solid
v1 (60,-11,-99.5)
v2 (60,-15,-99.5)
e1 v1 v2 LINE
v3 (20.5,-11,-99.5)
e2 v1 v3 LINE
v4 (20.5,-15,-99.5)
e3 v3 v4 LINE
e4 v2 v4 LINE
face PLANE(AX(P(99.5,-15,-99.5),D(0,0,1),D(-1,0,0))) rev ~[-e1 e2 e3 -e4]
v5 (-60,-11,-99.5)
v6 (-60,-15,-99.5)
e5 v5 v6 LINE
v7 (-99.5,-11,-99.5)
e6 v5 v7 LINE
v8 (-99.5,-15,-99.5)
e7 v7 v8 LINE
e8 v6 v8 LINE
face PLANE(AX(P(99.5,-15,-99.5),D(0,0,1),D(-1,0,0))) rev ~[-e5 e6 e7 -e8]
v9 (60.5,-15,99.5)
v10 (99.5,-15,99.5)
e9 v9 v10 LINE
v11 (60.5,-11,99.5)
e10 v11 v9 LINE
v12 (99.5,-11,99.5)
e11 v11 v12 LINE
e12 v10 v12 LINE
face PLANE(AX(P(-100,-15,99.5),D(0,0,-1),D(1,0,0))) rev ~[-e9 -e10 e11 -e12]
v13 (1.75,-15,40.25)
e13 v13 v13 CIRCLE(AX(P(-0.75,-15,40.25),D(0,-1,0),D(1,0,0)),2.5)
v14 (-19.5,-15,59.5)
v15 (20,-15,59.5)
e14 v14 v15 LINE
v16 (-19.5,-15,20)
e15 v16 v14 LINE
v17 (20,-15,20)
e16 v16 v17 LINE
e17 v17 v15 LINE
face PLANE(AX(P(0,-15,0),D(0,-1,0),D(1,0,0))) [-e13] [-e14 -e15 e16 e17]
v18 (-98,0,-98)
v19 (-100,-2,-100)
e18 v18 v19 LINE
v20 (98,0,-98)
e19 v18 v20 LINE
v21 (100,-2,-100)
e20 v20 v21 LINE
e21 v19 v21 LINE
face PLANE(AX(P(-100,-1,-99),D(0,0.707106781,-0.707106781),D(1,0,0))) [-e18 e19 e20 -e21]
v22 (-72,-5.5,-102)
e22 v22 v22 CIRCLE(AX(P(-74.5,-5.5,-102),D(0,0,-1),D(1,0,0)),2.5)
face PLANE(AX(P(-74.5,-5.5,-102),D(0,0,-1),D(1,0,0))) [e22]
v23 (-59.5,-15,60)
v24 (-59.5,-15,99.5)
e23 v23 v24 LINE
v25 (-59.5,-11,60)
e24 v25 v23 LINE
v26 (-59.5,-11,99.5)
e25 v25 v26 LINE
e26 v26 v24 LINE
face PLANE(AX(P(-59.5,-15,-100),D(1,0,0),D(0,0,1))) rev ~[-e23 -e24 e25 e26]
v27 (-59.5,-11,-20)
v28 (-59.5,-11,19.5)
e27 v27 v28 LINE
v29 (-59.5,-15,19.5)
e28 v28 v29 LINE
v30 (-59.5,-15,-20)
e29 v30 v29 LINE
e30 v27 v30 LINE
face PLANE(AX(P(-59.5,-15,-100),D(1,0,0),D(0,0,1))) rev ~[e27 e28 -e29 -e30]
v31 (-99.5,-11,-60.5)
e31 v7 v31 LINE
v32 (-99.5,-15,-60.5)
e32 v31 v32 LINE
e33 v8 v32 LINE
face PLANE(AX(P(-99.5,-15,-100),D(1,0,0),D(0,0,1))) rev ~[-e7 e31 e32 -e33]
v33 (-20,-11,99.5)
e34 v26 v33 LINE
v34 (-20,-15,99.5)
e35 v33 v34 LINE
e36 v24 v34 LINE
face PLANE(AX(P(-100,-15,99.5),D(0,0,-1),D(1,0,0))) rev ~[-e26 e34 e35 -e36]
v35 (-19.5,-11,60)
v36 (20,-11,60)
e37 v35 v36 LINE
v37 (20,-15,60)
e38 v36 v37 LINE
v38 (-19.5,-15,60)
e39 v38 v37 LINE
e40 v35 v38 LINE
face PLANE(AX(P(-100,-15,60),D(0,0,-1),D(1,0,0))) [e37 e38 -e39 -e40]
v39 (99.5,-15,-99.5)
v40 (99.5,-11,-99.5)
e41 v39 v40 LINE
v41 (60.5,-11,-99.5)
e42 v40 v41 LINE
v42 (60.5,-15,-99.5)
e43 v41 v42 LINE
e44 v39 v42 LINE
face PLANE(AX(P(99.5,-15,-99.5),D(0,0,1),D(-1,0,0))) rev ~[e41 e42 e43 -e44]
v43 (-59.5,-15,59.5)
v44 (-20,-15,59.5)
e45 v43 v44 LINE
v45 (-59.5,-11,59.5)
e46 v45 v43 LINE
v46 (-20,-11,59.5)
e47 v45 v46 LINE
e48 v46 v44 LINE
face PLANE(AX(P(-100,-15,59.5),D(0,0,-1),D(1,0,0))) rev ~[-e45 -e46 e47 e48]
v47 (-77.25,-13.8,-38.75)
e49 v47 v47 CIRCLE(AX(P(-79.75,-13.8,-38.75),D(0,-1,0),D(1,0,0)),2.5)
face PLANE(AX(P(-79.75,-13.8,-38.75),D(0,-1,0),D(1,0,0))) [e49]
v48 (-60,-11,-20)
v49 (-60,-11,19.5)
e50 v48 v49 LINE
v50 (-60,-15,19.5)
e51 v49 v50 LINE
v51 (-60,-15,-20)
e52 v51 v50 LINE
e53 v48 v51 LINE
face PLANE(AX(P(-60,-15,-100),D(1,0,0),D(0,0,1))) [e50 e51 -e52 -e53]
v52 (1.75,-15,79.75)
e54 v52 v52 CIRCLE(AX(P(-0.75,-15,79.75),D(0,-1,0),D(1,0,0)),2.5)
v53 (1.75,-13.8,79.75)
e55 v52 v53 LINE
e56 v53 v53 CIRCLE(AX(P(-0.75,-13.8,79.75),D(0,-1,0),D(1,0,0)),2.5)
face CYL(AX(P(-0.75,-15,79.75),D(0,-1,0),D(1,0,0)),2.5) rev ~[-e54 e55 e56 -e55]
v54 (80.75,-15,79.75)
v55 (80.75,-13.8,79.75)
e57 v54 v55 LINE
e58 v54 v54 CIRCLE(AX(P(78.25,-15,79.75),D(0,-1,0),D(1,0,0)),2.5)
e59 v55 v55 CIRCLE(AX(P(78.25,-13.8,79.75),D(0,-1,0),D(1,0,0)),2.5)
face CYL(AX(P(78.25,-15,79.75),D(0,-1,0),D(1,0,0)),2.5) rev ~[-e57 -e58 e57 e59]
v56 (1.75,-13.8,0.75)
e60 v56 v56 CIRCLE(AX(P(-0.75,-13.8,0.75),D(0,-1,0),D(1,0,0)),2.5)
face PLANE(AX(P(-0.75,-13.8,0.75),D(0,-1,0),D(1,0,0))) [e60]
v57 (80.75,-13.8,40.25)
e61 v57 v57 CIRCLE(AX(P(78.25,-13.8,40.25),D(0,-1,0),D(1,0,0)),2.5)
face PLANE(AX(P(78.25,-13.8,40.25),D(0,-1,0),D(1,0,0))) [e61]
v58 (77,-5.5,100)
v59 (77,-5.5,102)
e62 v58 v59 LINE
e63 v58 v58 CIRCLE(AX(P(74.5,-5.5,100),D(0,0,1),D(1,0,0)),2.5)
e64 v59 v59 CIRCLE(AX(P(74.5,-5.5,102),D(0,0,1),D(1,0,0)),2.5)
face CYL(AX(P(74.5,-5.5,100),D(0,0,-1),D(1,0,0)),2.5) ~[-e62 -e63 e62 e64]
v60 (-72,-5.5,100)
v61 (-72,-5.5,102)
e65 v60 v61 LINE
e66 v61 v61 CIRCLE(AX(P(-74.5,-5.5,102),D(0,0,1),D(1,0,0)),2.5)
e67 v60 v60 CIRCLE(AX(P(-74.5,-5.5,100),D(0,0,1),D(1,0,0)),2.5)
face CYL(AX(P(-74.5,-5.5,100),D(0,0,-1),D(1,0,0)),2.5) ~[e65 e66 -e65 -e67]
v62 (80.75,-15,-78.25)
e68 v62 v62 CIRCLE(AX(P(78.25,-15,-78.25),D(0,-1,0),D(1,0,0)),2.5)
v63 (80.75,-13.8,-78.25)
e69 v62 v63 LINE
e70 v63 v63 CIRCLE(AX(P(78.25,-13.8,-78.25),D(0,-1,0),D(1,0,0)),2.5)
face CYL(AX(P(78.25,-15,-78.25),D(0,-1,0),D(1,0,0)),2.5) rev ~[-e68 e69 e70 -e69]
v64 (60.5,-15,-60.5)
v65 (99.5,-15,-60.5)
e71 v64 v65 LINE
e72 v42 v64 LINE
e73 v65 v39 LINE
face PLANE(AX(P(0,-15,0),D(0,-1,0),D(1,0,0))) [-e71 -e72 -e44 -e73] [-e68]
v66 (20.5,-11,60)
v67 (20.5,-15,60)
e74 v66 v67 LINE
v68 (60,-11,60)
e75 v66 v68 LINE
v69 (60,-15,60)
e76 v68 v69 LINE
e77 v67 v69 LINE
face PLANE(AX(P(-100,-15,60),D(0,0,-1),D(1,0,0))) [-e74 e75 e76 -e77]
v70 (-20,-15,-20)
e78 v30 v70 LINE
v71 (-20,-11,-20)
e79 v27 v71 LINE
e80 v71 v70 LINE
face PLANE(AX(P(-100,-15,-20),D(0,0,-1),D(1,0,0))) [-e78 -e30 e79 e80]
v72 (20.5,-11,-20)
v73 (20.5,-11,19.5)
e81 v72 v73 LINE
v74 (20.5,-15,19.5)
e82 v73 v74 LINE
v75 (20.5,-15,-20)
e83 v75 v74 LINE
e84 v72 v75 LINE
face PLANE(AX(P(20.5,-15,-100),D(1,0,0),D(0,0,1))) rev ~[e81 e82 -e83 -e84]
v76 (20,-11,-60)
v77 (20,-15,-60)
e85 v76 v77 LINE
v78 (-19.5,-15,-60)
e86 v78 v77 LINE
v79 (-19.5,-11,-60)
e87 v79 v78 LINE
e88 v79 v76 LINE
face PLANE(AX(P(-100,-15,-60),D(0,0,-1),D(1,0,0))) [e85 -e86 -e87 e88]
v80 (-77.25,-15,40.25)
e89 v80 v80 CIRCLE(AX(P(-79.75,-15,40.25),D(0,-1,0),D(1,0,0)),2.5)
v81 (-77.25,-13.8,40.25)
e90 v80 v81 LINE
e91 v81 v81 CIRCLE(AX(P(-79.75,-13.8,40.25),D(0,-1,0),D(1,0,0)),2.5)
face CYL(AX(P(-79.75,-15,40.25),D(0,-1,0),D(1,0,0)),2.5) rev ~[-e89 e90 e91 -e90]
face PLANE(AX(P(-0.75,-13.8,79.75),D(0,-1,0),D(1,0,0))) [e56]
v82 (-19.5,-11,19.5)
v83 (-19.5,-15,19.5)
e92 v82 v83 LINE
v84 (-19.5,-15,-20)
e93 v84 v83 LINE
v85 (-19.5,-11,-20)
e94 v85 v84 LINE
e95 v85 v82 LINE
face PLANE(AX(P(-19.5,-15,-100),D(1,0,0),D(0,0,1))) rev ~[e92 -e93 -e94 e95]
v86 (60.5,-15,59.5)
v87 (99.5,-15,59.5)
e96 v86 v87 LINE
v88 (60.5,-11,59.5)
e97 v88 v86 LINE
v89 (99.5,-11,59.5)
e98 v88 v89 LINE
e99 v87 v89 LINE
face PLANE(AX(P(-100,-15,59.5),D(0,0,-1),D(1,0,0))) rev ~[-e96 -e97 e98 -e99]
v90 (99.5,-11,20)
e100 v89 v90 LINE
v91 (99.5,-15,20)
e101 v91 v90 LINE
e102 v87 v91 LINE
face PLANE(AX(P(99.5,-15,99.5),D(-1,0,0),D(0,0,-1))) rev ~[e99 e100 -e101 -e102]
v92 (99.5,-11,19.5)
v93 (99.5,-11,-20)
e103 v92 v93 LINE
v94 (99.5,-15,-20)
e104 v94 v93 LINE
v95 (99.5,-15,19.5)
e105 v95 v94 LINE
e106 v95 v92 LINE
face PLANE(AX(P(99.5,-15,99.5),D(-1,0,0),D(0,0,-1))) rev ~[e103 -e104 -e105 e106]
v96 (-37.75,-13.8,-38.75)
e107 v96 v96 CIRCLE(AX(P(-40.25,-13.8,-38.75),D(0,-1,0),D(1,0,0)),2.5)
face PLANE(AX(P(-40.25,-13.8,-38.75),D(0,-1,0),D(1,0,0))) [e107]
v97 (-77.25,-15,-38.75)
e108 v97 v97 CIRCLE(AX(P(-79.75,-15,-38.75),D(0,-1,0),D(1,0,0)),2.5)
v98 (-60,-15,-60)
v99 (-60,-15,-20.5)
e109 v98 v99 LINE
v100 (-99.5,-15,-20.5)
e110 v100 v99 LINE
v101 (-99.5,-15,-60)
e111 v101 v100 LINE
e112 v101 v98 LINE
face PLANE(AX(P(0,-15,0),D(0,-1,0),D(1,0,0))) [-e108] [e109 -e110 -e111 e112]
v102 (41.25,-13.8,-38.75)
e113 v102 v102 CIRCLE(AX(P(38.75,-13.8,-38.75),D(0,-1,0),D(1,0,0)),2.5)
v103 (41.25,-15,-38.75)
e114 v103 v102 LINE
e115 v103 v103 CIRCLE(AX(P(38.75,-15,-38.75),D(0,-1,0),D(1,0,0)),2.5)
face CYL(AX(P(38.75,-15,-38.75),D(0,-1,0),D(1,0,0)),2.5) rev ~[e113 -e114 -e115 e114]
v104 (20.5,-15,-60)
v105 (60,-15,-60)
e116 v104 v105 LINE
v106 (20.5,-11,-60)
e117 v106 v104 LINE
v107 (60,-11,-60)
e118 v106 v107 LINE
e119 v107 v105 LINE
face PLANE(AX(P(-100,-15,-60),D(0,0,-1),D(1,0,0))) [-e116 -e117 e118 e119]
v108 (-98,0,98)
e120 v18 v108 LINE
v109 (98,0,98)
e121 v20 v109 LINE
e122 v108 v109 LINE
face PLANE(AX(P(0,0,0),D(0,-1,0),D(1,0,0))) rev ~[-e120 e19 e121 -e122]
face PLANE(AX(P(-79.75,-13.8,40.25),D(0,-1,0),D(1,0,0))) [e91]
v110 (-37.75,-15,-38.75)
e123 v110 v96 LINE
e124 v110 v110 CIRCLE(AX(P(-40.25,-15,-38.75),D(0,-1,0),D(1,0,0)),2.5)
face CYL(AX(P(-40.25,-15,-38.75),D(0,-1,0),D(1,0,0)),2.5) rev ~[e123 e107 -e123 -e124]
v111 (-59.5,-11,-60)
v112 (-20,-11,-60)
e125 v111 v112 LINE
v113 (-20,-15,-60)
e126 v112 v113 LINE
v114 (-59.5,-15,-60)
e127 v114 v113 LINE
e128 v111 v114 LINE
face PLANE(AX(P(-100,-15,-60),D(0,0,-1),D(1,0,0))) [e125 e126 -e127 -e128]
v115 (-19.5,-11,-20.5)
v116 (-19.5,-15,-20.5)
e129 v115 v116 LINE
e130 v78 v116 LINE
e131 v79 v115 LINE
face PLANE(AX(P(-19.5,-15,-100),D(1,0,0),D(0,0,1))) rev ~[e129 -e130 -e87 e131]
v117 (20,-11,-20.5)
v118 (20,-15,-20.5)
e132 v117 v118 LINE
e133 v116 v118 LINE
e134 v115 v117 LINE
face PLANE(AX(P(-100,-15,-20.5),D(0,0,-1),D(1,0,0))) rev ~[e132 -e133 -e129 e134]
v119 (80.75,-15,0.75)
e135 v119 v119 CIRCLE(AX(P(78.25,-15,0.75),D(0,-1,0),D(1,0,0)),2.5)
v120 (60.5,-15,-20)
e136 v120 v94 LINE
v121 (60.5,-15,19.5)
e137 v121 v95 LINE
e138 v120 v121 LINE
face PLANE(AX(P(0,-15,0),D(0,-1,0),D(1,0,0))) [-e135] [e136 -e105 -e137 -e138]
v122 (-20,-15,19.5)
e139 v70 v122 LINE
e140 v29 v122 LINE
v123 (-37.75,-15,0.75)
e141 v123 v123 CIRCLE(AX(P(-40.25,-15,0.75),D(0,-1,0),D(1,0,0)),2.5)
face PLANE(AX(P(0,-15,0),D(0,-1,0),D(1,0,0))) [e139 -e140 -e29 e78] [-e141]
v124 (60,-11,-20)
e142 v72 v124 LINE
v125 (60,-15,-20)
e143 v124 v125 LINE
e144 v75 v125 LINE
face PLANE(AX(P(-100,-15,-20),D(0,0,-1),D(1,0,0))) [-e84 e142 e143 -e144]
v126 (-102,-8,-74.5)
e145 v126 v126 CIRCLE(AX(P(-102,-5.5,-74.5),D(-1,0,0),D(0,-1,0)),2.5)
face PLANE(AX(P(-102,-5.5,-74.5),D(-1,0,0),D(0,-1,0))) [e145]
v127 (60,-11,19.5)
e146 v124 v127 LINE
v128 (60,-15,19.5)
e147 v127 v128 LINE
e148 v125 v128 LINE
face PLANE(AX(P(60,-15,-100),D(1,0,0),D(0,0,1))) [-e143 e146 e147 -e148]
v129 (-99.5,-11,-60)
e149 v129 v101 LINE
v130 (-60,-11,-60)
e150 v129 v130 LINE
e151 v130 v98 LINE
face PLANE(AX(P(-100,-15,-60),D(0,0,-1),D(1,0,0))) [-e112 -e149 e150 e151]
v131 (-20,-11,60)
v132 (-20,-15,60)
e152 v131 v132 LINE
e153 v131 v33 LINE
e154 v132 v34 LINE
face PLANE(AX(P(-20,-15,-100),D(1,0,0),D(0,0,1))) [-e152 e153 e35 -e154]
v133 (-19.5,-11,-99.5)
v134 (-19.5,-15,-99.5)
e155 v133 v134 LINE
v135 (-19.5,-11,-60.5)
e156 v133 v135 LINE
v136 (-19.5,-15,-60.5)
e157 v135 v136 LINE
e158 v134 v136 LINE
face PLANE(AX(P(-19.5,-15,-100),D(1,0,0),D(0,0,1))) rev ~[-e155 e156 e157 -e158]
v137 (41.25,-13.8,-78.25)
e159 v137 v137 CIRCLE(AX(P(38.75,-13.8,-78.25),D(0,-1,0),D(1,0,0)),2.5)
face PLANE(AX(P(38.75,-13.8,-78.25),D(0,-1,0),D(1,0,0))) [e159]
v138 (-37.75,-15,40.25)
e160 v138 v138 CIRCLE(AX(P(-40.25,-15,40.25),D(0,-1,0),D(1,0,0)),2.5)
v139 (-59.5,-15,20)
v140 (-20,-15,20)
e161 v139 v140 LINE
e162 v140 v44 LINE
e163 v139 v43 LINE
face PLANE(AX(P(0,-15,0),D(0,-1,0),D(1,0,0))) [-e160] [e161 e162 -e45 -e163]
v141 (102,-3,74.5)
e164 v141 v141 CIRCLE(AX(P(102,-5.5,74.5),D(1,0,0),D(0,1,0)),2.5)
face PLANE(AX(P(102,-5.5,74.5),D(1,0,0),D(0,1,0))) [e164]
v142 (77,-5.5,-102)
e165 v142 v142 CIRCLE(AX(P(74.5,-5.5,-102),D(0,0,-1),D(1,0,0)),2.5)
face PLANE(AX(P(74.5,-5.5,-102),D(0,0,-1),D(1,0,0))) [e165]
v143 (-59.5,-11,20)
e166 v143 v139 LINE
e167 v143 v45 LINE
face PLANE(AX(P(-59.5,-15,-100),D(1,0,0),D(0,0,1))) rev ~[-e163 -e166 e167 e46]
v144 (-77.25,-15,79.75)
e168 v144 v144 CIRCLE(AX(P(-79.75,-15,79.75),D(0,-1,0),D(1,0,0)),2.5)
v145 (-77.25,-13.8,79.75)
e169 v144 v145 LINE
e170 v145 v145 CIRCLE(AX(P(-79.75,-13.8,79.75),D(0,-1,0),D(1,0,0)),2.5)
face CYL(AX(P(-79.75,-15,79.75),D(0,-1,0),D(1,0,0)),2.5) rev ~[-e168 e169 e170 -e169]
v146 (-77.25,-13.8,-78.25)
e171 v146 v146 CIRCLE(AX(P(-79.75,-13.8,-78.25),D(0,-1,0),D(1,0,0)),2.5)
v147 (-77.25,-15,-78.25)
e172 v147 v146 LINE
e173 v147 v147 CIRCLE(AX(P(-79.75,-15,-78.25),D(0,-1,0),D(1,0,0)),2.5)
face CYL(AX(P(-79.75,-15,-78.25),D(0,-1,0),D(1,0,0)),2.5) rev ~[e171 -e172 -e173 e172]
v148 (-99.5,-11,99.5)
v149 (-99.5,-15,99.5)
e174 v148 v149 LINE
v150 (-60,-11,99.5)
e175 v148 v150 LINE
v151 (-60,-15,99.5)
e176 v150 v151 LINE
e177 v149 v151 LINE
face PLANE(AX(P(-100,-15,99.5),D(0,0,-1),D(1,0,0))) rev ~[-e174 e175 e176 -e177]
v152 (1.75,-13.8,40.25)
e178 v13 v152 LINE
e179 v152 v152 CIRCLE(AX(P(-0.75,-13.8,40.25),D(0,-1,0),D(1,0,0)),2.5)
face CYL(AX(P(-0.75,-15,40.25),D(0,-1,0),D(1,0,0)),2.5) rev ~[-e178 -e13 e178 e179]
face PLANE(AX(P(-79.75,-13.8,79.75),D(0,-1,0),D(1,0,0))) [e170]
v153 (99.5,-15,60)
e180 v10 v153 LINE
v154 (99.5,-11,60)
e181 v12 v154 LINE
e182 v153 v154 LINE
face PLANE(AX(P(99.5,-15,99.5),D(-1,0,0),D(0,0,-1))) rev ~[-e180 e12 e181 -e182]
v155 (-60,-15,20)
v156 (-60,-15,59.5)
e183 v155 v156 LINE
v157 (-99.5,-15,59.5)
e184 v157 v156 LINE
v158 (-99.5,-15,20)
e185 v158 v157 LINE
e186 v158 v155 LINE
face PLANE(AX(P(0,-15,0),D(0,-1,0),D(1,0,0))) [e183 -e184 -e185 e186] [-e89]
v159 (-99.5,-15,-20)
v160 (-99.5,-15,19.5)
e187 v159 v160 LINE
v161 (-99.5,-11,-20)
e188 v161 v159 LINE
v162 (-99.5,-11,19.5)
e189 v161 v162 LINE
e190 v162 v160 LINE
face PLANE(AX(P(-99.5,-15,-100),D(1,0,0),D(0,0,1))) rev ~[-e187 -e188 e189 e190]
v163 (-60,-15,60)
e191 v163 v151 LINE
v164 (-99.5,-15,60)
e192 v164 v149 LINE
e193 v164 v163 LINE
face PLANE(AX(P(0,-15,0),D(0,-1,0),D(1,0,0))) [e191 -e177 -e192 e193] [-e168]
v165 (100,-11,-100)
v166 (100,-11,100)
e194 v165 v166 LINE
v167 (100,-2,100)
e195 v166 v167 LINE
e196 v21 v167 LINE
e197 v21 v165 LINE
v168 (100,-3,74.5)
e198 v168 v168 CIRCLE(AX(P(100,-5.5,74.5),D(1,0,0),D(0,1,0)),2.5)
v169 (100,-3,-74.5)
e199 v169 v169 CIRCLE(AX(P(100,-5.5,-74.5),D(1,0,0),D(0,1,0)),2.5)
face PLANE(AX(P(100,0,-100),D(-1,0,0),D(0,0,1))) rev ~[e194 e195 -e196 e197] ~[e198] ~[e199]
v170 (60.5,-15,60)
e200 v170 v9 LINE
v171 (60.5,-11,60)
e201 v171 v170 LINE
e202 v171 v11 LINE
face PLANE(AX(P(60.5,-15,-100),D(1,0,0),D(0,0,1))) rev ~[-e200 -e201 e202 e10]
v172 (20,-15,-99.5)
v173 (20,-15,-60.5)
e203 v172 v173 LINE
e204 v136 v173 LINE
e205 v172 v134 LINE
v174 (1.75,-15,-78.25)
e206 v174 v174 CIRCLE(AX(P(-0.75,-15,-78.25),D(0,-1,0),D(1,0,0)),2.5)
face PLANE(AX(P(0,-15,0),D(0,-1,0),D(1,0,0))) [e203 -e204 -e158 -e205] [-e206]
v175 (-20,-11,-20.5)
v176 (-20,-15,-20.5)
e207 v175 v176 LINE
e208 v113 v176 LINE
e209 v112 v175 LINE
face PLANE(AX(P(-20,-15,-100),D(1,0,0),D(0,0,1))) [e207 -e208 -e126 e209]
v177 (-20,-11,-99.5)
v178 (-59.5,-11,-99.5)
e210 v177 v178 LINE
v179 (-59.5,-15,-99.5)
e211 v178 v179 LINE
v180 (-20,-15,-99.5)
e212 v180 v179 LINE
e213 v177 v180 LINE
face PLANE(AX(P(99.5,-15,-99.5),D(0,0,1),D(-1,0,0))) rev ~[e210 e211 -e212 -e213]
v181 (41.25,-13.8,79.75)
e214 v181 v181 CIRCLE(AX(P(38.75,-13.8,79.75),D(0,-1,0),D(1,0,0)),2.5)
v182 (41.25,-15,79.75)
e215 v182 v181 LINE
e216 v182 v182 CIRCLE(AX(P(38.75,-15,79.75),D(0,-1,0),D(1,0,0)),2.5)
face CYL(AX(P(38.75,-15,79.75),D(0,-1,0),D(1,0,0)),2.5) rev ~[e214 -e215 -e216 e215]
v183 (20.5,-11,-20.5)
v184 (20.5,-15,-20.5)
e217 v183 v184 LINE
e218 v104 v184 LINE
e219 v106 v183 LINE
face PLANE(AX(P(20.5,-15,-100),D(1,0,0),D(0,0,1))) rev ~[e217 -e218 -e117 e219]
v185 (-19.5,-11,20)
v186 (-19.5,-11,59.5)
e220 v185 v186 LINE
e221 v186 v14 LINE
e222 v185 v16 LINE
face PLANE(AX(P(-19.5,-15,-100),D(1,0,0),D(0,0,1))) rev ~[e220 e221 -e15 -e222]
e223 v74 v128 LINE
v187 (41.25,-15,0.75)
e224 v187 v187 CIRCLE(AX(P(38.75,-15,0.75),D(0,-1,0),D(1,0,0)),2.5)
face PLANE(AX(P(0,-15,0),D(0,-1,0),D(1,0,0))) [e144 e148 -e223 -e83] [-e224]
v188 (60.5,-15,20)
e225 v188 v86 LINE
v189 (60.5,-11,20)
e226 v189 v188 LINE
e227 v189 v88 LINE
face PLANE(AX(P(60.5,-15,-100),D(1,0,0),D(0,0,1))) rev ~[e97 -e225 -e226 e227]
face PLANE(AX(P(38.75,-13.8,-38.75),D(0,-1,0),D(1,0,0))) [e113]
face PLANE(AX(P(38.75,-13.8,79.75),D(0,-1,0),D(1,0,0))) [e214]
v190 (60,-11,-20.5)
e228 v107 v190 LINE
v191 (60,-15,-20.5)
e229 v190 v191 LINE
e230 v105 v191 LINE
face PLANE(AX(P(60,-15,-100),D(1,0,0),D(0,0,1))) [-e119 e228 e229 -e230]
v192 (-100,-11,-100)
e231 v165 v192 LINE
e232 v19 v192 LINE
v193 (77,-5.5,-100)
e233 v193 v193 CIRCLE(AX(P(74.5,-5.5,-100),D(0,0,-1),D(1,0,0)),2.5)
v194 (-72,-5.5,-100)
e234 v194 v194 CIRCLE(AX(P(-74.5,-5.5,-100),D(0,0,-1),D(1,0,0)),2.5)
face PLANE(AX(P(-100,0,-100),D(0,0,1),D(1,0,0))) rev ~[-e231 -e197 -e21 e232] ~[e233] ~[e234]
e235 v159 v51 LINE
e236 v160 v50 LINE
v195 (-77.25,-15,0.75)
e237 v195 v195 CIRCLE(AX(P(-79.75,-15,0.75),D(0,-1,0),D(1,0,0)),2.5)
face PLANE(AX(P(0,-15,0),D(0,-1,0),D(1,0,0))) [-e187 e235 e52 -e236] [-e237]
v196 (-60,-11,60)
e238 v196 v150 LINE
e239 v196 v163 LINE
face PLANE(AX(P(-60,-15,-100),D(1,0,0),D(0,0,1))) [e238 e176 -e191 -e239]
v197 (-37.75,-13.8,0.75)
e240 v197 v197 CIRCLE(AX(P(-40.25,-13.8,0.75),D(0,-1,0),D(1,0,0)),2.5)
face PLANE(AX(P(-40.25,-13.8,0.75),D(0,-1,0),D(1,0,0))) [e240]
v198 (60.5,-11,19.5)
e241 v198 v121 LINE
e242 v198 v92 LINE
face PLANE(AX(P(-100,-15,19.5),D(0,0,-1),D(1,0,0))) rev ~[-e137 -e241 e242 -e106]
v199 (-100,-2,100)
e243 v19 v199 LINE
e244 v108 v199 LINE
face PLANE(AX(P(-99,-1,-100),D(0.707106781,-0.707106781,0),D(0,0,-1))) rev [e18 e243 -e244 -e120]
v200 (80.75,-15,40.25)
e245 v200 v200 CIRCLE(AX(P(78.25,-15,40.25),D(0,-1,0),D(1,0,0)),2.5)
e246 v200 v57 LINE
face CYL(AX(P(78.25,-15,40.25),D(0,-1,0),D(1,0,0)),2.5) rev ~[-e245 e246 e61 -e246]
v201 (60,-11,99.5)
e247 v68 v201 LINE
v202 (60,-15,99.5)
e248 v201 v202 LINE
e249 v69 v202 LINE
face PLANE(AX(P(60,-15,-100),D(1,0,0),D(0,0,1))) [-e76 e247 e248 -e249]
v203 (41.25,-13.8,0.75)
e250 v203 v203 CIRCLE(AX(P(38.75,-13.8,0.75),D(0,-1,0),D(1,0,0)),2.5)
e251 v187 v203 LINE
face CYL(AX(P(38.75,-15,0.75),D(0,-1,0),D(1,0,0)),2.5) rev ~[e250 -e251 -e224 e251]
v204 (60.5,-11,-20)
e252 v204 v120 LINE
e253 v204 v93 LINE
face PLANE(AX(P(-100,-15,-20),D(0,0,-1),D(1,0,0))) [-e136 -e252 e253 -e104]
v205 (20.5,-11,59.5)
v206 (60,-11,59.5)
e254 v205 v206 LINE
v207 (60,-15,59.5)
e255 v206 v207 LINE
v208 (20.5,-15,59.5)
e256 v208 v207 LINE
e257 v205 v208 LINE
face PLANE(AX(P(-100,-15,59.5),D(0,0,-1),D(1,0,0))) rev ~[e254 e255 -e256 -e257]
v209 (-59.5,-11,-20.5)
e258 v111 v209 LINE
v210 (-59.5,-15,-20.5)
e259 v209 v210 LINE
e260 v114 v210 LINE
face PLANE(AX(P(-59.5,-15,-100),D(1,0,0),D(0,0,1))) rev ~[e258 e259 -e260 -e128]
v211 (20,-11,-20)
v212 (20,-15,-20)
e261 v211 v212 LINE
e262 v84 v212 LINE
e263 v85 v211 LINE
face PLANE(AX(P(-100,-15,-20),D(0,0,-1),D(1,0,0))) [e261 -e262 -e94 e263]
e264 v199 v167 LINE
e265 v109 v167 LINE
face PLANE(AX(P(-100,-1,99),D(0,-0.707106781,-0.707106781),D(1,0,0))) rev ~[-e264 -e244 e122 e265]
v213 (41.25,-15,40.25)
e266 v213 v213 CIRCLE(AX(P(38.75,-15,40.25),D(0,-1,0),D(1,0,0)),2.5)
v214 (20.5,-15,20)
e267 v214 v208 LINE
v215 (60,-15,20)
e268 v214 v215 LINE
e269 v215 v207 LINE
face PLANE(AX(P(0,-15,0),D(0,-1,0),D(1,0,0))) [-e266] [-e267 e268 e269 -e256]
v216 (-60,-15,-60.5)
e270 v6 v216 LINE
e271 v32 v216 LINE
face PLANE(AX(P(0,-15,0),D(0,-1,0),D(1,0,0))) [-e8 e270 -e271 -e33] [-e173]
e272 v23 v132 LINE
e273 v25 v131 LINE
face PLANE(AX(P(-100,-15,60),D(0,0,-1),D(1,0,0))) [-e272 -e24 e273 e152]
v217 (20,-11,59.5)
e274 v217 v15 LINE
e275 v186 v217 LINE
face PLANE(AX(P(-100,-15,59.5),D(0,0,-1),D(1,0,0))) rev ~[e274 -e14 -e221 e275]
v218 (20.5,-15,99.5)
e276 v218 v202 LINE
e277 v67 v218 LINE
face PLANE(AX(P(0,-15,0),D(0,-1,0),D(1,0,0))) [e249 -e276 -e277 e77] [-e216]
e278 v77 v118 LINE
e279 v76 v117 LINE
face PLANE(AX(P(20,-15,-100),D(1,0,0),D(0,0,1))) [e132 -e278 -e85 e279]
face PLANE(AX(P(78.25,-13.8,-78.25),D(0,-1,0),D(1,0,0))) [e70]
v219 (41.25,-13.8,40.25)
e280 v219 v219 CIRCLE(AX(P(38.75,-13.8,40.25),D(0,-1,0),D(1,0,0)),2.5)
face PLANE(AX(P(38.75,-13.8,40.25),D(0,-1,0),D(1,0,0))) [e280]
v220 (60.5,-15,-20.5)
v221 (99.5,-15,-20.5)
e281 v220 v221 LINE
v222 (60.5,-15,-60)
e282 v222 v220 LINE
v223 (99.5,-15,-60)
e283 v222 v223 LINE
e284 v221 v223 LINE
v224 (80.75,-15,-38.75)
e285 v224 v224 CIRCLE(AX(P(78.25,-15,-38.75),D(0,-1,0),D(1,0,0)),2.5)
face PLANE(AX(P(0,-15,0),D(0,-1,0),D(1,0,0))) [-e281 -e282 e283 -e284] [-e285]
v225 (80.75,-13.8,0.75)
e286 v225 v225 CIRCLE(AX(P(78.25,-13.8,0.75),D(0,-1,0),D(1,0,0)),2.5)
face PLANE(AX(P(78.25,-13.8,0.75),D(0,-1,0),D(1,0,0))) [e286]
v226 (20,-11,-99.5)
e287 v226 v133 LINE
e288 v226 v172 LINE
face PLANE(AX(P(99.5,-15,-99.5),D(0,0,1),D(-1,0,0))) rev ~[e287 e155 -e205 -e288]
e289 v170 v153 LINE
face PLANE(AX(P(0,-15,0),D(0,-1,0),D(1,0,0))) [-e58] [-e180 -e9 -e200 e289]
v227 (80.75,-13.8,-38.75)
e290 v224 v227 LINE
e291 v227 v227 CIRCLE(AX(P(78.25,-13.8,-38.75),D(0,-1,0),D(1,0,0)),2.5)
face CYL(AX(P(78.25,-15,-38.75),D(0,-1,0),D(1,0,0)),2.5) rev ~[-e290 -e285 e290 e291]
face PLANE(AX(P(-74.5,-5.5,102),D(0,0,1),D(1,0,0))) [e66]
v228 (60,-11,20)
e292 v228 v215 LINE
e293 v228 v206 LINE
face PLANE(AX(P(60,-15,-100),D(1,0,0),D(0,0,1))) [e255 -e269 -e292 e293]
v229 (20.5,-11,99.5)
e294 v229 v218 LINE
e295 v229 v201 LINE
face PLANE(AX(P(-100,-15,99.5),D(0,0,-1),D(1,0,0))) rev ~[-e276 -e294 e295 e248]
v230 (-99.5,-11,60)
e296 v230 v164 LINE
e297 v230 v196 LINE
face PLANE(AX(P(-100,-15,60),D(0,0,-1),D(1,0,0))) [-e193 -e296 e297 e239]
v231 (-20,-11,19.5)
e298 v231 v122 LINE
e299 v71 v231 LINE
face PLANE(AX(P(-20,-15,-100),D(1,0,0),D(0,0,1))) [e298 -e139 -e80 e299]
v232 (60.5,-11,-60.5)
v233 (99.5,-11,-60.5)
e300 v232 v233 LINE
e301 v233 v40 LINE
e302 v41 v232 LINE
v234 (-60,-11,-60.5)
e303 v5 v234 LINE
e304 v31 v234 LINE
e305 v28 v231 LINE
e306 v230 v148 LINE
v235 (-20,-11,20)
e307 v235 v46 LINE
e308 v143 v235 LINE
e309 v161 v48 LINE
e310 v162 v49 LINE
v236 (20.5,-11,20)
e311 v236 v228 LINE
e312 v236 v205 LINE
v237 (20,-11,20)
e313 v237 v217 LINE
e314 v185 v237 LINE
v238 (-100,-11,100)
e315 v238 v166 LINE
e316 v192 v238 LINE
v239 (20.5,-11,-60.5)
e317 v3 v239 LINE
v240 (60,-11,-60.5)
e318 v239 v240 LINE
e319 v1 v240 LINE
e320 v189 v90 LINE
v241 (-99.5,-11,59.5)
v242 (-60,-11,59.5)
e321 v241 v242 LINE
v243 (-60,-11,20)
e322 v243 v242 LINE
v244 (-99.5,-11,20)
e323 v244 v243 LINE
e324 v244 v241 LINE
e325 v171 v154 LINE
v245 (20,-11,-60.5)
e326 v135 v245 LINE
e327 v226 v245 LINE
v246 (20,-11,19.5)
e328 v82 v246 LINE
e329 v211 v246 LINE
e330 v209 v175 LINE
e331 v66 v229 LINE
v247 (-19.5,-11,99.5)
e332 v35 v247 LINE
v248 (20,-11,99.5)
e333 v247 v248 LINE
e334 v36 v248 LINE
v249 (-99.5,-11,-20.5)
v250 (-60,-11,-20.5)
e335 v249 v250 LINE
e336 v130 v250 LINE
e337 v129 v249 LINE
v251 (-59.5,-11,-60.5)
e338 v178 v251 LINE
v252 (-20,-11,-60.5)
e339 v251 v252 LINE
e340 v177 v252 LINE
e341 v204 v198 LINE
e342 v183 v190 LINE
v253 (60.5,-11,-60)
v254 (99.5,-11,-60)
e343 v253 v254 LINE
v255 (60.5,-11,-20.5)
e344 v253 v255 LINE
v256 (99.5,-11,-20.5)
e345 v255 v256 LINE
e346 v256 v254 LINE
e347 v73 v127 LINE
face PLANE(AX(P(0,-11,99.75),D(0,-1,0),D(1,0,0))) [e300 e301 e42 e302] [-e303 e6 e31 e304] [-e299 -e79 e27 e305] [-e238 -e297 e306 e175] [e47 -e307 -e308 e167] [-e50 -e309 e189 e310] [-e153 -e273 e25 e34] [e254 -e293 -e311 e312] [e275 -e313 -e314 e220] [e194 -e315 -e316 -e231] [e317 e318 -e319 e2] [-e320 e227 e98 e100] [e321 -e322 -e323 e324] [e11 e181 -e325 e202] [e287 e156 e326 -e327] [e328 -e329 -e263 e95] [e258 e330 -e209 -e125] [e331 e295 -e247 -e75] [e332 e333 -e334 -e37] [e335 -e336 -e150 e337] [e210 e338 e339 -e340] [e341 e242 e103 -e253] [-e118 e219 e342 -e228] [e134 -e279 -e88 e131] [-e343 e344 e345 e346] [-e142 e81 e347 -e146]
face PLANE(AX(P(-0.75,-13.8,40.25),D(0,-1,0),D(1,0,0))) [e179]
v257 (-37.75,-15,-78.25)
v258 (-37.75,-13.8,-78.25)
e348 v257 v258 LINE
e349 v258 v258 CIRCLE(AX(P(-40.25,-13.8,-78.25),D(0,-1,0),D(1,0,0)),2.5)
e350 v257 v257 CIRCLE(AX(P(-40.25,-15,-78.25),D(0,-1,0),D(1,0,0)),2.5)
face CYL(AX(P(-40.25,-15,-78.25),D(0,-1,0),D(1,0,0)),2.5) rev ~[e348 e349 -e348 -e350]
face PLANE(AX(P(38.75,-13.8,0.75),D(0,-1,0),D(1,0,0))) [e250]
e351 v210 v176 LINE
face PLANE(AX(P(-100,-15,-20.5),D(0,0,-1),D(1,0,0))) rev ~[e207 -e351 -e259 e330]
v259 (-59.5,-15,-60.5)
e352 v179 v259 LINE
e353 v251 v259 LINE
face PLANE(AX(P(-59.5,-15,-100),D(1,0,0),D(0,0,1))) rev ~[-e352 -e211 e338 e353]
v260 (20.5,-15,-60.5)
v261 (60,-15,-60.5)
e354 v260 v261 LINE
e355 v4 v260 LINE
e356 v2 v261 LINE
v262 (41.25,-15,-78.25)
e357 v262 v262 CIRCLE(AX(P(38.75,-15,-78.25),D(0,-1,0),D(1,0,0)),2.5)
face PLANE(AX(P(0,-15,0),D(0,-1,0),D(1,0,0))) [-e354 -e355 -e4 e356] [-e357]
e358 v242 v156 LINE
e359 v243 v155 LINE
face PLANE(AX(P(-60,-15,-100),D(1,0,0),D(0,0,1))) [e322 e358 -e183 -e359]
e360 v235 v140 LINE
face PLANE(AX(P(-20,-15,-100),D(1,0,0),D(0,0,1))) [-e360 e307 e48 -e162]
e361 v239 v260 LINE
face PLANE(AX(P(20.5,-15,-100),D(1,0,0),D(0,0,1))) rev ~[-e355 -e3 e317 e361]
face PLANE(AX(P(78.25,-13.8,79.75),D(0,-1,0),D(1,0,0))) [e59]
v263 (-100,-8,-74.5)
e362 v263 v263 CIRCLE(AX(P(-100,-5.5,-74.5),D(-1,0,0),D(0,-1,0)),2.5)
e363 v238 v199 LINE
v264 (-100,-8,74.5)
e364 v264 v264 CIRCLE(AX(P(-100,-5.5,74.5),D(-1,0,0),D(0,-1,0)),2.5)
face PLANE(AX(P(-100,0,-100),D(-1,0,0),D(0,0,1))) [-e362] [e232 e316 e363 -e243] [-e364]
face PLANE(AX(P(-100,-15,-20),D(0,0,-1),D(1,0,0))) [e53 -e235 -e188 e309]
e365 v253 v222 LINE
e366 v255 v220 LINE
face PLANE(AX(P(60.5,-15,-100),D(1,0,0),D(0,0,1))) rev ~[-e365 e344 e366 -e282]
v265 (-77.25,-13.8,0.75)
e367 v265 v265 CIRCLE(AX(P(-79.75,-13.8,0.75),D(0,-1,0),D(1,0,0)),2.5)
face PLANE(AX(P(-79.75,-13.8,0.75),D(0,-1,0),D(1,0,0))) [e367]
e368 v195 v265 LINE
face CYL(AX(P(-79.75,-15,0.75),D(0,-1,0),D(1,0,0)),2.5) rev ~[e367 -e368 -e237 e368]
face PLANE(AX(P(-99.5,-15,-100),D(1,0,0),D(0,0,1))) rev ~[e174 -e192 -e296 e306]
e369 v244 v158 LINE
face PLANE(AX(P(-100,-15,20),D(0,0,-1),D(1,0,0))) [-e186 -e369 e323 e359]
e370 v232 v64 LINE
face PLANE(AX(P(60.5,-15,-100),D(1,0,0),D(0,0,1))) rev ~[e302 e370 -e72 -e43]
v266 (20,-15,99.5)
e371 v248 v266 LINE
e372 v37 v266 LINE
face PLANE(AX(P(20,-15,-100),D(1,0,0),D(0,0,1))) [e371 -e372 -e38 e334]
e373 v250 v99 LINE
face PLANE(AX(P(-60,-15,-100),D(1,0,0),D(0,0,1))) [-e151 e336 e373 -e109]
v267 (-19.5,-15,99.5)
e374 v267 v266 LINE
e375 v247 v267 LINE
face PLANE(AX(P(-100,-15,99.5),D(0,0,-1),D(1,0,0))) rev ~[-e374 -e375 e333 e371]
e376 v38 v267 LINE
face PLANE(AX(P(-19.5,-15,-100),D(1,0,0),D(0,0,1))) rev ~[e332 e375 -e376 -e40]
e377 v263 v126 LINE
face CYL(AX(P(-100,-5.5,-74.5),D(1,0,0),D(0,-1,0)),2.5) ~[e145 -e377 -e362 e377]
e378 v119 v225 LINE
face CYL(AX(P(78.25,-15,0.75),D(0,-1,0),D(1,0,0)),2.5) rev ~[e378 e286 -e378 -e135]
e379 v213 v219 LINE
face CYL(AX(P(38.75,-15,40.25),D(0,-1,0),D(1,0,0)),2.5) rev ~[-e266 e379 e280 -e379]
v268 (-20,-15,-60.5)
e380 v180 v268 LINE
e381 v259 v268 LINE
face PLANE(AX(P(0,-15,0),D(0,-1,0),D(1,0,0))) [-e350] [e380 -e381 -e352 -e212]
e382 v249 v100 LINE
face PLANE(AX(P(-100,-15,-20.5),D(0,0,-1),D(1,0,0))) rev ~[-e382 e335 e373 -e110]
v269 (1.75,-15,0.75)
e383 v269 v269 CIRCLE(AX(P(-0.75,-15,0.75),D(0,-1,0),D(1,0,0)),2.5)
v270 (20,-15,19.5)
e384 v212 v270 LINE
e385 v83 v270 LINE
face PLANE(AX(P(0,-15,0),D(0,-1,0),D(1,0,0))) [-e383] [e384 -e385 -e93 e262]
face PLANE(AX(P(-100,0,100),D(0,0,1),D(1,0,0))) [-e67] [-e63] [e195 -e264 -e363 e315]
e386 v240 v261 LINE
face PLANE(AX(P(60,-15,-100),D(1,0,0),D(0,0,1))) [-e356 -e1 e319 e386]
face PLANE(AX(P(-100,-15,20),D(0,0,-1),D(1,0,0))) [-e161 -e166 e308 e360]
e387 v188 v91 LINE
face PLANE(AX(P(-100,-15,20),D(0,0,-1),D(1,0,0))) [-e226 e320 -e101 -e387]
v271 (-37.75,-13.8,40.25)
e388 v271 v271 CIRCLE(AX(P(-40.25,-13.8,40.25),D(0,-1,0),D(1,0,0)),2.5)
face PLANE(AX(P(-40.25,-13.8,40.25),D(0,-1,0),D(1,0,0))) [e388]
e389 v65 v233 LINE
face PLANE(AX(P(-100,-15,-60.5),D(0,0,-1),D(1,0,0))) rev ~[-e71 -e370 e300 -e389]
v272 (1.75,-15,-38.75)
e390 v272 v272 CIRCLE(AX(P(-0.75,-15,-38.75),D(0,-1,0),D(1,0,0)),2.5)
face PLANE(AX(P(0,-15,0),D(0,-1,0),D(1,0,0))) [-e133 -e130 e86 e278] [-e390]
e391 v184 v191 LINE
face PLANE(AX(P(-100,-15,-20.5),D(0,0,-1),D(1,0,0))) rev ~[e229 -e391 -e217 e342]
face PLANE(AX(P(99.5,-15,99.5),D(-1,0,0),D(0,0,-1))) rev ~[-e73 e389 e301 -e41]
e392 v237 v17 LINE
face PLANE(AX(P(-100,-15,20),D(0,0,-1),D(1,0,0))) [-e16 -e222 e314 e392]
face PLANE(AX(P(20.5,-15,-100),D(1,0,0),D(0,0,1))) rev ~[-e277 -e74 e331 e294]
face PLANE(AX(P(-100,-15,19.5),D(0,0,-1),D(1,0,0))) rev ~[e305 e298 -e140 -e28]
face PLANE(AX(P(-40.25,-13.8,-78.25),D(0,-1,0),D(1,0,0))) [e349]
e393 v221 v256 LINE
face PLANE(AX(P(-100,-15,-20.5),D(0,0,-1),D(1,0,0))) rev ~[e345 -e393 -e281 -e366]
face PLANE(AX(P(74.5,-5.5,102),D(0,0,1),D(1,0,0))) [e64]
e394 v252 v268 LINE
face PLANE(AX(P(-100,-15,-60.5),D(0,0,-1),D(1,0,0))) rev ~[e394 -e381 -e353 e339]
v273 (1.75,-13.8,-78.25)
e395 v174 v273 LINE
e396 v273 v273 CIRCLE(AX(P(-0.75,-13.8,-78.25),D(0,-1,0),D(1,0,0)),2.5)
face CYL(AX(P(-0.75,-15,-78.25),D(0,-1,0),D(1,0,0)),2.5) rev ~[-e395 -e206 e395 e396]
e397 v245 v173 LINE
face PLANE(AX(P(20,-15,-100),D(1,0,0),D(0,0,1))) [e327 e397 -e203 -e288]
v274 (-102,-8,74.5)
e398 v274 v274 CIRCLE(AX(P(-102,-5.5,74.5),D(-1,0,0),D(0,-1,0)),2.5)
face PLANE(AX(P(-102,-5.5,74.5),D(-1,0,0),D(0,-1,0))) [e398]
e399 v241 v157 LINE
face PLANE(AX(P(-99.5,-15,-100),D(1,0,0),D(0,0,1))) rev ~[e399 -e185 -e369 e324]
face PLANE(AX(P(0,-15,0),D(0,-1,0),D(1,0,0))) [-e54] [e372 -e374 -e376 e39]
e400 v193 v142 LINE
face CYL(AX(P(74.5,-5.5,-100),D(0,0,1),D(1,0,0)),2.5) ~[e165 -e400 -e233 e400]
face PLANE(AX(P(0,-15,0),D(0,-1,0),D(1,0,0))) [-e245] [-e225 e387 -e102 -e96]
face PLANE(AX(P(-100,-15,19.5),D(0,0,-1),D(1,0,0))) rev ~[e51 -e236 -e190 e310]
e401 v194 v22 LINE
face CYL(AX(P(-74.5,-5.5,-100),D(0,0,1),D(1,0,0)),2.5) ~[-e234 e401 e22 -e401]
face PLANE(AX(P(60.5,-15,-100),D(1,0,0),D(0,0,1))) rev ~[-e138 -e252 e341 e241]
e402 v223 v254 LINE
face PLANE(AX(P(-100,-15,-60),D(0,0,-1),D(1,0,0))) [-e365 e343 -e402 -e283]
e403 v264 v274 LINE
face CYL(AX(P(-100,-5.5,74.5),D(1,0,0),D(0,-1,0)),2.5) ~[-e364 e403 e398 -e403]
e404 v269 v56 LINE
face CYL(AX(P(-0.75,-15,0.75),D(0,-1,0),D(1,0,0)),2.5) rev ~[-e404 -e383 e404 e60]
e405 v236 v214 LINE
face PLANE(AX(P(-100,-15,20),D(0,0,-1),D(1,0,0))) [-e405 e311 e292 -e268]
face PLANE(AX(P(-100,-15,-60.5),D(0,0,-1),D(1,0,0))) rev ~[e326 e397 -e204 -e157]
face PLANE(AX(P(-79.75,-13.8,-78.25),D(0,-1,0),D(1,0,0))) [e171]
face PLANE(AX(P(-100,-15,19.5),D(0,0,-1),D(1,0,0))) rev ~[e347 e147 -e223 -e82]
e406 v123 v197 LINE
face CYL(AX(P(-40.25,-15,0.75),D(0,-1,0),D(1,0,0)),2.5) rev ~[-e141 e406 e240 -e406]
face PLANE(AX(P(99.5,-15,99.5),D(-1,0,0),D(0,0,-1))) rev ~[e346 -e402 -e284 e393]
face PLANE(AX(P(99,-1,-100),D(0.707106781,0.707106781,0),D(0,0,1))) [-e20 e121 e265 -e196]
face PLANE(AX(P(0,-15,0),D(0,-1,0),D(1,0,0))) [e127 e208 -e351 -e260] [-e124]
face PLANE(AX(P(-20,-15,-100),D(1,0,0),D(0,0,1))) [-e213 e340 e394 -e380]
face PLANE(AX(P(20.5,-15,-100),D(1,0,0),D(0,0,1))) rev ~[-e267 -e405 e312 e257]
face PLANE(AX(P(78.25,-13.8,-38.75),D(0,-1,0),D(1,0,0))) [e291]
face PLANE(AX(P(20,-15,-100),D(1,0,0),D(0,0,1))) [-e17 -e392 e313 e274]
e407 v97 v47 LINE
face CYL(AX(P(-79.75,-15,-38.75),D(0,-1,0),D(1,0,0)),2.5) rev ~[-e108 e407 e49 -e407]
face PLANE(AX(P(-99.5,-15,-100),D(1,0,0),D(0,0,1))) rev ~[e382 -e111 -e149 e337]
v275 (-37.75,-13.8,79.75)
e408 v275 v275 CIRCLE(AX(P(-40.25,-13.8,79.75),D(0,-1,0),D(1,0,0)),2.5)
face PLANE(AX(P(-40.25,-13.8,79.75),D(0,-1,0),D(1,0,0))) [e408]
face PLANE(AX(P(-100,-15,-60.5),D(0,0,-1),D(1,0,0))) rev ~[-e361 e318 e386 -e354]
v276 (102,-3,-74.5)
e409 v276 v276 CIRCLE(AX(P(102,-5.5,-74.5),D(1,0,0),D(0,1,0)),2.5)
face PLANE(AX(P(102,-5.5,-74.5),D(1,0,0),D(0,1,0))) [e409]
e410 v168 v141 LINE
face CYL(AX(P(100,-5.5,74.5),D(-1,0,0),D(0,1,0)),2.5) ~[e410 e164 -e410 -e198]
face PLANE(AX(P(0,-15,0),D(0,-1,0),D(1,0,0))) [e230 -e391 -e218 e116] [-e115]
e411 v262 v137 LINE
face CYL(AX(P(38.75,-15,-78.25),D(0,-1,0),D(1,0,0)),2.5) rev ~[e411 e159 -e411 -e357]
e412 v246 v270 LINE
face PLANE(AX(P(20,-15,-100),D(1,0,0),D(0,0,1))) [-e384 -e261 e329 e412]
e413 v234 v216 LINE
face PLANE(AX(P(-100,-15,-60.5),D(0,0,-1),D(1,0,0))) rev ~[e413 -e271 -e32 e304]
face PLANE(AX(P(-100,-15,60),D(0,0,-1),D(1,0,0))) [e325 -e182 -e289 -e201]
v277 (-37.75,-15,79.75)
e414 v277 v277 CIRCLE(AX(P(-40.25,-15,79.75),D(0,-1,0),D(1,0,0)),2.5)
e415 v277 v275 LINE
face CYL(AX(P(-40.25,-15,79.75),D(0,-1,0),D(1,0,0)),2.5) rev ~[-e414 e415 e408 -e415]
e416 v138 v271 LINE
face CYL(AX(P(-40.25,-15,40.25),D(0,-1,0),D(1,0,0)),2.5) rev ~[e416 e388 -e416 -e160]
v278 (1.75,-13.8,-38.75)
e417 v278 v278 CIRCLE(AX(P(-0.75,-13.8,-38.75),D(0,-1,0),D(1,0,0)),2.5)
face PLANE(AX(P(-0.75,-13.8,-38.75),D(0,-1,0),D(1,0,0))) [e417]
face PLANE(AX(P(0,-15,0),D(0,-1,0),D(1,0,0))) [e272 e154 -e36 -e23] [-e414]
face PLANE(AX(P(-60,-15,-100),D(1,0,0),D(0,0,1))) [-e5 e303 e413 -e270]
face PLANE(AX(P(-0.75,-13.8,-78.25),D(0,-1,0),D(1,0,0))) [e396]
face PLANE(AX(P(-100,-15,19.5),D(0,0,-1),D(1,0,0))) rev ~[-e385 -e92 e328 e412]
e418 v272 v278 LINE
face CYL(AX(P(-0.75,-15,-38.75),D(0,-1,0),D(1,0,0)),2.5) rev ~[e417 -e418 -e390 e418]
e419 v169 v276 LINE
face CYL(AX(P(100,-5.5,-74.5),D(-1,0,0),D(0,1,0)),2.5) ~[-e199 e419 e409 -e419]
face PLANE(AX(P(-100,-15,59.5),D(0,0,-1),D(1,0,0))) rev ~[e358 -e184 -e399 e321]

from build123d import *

# Parameters (mm, degrees)
F0_W      = 200
F0_H      = 200
F1_DEPTH  = 15
F3_DEPTH  = 5
F2_W      = 200
F2_H      = 0.5
F4_DEPTH  = 4
F5_W      = 0.5
F5_H      = 200
F6_DEPTH  = 4
F8_DEPTH  = 4
F9_R      = 2.5
F10_DEPTH = 1.2
F11_R     = 2.5
F12_DEPTH = 2
F13_R     = 2.5
F14_DEPTH = 2
F15_SIZE  = 2
F16_R     = 2.5
F17_DEPTH = 2
F18_R     = 2.5
F19_DEPTH = 2


with BuildPart() as f1:
    # F0 (on Front) → F1 (new body)
    with BuildSketch(Plane.XZ):
        Rectangle(F0_W, F0_H)
    extrude(amount=F1_DEPTH)

    # F2 (on face) → F4 (cut)
    with BuildSketch(Plane.XZ.offset(15)):
        with Locations((0, 99.75)):
            Rectangle(F2_W, F2_H)
        with Locations((0, 59.75)):
            Rectangle(F2_W, F2_H)
        with Locations((0, 19.75)):
            Rectangle(F2_W, F2_H)
        with Locations((0, -20.25)):
            Rectangle(F2_W, F2_H)
        with Locations((0, -60.25)):
            Rectangle(F2_W, F2_H)
        with Locations((0, -100.25)):
            Rectangle(F2_W, F2_H)
    extrude(amount=-F4_DEPTH, mode=Mode.SUBTRACT)

    # F5 (on face) → F6 (cut)
    with BuildSketch(Plane.XZ.offset(15)):
        with Locations((-99.75, 0)):
            Rectangle(F5_W, F5_H)
        with Locations((-59.75, 0)):
            Rectangle(F5_W, F5_H)
        with Locations((-19.75, 0)):
            Rectangle(F5_W, F5_H)
        with Locations((20.25, 0)):
            Rectangle(F5_W, F5_H)
        with Locations((60.25, 0)):
            Rectangle(F5_W, F5_H)
        with Locations((100.25, 0)):
            Rectangle(F5_W, F5_H)
    extrude(amount=-F6_DEPTH, mode=Mode.SUBTRACT)

    # F7 (on face) → F8 (cut)
    with BuildSketch(Plane.XZ.offset(15)):
        Polygon((-100, -99.5), (-100, -100), (99.5, -100), (100, -100), (100, -99.5), (100, 99.5), (99.5, 99.5), (99.5, -99.5), align=None)
    extrude(amount=-F8_DEPTH, mode=Mode.SUBTRACT)

    # F9 (on face) → F10 (cut)
    with BuildSketch(Plane.XZ.offset(15)):
        with Locations((-79.75, 79.75)):
            Circle(F9_R)
        with Locations((-79.75, 40.25)):
            Circle(F9_R)
        with Locations((-79.75, 0.75)):
            Circle(F9_R)
        with Locations((-79.75, -38.75)):
            Circle(F9_R)
        with Locations((-79.75, -78.25)):
            Circle(F9_R)
        with Locations((-40.25, 79.75)):
            Circle(F9_R)
        with Locations((-40.25, 40.25)):
            Circle(F9_R)
        with Locations((-40.25, 0.75)):
            Circle(F9_R)
        with Locations((-40.25, -38.75)):
            Circle(F9_R)
        with Locations((-40.25, -78.25)):
            Circle(F9_R)
        with Locations((-0.75, 79.75)):
            Circle(F9_R)
        with Locations((-0.75, 40.25)):
            Circle(F9_R)
        with Locations((-0.75, 0.75)):
            Circle(F9_R)
        with Locations((-0.75, -38.75)):
            Circle(F9_R)
        with Locations((-0.75, -78.25)):
            Circle(F9_R)
        with Locations((38.75, 79.75)):
            Circle(F9_R)
        with Locations((38.75, 40.25)):
            Circle(F9_R)
        with Locations((38.75, 0.75)):
            Circle(F9_R)
        with Locations((38.75, -38.75)):
            Circle(F9_R)
        with Locations((38.75, -78.25)):
            Circle(F9_R)
        with Locations((78.25, 79.75)):
            Circle(F9_R)
        with Locations((78.25, 40.25)):
            Circle(F9_R)
        with Locations((78.25, 0.75)):
            Circle(F9_R)
        with Locations((78.25, -38.75)):
            Circle(F9_R)
        with Locations((78.25, -78.25)):
            Circle(F9_R)
    extrude(amount=-F10_DEPTH, mode=Mode.SUBTRACT)



with BuildPart() as f3:
    # F0 (on Front) → F3 (new body)
    with BuildSketch(Plane.XZ):
        Rectangle(F0_W, F0_H)
    extrude(amount=F3_DEPTH)


with BuildPart() as f1_1:
    add(f1.part)

    add(f3.part)  # F12 merges F3
    # F11 (on face) → F12 (join)
    with BuildSketch(Plane.YZ.offset(100)):
        with Locations((-5.5, -74.5)):
            Circle(F11_R)
        with Locations((-5.5, 74.5)):
            Circle(F11_R)
    extrude(amount=F12_DEPTH)

    # F13 (on face) → F14 (join)
    with BuildSketch(Plane(origin=(0, 0, -100), x_dir=(1, 0, 0), z_dir=(0, 0, -1))):
        with Locations((-74.5, 5.5)):
            Circle(F13_R)
        with Locations((74.5, 5.5)):
            Circle(F13_R)
    extrude(amount=F14_DEPTH)

    # F15
    f15_edges = [f1_1.edges().sort_by_distance(p)[0] for p in [
        (0, 0, -100),
        (100, 0, 0),
        (0, 0, 100),
        (-100, 0, 0),
    ]]
    chamfer(f15_edges, length=F15_SIZE)

    # F16 (on face) → F17 (join)
    with BuildSketch(Plane(origin=(-100, 0, 0), x_dir=(0, -1, 0), z_dir=(-1, 0, 0))):
        with Locations((5.5, -74.5)):
            Circle(F16_R)
        with Locations((5.5, 74.5)):
            Circle(F16_R)
    extrude(amount=F17_DEPTH)

    # F18 (on face) → F19 (join)
    with BuildSketch(Plane.XY.offset(100)):
        with Locations((74.5, -5.5)):
            Circle(F18_R)
        with Locations((-74.5, -5.5)):
            Circle(F18_R)
    extrude(amount=F19_DEPTH)


solid = f1_1.part
